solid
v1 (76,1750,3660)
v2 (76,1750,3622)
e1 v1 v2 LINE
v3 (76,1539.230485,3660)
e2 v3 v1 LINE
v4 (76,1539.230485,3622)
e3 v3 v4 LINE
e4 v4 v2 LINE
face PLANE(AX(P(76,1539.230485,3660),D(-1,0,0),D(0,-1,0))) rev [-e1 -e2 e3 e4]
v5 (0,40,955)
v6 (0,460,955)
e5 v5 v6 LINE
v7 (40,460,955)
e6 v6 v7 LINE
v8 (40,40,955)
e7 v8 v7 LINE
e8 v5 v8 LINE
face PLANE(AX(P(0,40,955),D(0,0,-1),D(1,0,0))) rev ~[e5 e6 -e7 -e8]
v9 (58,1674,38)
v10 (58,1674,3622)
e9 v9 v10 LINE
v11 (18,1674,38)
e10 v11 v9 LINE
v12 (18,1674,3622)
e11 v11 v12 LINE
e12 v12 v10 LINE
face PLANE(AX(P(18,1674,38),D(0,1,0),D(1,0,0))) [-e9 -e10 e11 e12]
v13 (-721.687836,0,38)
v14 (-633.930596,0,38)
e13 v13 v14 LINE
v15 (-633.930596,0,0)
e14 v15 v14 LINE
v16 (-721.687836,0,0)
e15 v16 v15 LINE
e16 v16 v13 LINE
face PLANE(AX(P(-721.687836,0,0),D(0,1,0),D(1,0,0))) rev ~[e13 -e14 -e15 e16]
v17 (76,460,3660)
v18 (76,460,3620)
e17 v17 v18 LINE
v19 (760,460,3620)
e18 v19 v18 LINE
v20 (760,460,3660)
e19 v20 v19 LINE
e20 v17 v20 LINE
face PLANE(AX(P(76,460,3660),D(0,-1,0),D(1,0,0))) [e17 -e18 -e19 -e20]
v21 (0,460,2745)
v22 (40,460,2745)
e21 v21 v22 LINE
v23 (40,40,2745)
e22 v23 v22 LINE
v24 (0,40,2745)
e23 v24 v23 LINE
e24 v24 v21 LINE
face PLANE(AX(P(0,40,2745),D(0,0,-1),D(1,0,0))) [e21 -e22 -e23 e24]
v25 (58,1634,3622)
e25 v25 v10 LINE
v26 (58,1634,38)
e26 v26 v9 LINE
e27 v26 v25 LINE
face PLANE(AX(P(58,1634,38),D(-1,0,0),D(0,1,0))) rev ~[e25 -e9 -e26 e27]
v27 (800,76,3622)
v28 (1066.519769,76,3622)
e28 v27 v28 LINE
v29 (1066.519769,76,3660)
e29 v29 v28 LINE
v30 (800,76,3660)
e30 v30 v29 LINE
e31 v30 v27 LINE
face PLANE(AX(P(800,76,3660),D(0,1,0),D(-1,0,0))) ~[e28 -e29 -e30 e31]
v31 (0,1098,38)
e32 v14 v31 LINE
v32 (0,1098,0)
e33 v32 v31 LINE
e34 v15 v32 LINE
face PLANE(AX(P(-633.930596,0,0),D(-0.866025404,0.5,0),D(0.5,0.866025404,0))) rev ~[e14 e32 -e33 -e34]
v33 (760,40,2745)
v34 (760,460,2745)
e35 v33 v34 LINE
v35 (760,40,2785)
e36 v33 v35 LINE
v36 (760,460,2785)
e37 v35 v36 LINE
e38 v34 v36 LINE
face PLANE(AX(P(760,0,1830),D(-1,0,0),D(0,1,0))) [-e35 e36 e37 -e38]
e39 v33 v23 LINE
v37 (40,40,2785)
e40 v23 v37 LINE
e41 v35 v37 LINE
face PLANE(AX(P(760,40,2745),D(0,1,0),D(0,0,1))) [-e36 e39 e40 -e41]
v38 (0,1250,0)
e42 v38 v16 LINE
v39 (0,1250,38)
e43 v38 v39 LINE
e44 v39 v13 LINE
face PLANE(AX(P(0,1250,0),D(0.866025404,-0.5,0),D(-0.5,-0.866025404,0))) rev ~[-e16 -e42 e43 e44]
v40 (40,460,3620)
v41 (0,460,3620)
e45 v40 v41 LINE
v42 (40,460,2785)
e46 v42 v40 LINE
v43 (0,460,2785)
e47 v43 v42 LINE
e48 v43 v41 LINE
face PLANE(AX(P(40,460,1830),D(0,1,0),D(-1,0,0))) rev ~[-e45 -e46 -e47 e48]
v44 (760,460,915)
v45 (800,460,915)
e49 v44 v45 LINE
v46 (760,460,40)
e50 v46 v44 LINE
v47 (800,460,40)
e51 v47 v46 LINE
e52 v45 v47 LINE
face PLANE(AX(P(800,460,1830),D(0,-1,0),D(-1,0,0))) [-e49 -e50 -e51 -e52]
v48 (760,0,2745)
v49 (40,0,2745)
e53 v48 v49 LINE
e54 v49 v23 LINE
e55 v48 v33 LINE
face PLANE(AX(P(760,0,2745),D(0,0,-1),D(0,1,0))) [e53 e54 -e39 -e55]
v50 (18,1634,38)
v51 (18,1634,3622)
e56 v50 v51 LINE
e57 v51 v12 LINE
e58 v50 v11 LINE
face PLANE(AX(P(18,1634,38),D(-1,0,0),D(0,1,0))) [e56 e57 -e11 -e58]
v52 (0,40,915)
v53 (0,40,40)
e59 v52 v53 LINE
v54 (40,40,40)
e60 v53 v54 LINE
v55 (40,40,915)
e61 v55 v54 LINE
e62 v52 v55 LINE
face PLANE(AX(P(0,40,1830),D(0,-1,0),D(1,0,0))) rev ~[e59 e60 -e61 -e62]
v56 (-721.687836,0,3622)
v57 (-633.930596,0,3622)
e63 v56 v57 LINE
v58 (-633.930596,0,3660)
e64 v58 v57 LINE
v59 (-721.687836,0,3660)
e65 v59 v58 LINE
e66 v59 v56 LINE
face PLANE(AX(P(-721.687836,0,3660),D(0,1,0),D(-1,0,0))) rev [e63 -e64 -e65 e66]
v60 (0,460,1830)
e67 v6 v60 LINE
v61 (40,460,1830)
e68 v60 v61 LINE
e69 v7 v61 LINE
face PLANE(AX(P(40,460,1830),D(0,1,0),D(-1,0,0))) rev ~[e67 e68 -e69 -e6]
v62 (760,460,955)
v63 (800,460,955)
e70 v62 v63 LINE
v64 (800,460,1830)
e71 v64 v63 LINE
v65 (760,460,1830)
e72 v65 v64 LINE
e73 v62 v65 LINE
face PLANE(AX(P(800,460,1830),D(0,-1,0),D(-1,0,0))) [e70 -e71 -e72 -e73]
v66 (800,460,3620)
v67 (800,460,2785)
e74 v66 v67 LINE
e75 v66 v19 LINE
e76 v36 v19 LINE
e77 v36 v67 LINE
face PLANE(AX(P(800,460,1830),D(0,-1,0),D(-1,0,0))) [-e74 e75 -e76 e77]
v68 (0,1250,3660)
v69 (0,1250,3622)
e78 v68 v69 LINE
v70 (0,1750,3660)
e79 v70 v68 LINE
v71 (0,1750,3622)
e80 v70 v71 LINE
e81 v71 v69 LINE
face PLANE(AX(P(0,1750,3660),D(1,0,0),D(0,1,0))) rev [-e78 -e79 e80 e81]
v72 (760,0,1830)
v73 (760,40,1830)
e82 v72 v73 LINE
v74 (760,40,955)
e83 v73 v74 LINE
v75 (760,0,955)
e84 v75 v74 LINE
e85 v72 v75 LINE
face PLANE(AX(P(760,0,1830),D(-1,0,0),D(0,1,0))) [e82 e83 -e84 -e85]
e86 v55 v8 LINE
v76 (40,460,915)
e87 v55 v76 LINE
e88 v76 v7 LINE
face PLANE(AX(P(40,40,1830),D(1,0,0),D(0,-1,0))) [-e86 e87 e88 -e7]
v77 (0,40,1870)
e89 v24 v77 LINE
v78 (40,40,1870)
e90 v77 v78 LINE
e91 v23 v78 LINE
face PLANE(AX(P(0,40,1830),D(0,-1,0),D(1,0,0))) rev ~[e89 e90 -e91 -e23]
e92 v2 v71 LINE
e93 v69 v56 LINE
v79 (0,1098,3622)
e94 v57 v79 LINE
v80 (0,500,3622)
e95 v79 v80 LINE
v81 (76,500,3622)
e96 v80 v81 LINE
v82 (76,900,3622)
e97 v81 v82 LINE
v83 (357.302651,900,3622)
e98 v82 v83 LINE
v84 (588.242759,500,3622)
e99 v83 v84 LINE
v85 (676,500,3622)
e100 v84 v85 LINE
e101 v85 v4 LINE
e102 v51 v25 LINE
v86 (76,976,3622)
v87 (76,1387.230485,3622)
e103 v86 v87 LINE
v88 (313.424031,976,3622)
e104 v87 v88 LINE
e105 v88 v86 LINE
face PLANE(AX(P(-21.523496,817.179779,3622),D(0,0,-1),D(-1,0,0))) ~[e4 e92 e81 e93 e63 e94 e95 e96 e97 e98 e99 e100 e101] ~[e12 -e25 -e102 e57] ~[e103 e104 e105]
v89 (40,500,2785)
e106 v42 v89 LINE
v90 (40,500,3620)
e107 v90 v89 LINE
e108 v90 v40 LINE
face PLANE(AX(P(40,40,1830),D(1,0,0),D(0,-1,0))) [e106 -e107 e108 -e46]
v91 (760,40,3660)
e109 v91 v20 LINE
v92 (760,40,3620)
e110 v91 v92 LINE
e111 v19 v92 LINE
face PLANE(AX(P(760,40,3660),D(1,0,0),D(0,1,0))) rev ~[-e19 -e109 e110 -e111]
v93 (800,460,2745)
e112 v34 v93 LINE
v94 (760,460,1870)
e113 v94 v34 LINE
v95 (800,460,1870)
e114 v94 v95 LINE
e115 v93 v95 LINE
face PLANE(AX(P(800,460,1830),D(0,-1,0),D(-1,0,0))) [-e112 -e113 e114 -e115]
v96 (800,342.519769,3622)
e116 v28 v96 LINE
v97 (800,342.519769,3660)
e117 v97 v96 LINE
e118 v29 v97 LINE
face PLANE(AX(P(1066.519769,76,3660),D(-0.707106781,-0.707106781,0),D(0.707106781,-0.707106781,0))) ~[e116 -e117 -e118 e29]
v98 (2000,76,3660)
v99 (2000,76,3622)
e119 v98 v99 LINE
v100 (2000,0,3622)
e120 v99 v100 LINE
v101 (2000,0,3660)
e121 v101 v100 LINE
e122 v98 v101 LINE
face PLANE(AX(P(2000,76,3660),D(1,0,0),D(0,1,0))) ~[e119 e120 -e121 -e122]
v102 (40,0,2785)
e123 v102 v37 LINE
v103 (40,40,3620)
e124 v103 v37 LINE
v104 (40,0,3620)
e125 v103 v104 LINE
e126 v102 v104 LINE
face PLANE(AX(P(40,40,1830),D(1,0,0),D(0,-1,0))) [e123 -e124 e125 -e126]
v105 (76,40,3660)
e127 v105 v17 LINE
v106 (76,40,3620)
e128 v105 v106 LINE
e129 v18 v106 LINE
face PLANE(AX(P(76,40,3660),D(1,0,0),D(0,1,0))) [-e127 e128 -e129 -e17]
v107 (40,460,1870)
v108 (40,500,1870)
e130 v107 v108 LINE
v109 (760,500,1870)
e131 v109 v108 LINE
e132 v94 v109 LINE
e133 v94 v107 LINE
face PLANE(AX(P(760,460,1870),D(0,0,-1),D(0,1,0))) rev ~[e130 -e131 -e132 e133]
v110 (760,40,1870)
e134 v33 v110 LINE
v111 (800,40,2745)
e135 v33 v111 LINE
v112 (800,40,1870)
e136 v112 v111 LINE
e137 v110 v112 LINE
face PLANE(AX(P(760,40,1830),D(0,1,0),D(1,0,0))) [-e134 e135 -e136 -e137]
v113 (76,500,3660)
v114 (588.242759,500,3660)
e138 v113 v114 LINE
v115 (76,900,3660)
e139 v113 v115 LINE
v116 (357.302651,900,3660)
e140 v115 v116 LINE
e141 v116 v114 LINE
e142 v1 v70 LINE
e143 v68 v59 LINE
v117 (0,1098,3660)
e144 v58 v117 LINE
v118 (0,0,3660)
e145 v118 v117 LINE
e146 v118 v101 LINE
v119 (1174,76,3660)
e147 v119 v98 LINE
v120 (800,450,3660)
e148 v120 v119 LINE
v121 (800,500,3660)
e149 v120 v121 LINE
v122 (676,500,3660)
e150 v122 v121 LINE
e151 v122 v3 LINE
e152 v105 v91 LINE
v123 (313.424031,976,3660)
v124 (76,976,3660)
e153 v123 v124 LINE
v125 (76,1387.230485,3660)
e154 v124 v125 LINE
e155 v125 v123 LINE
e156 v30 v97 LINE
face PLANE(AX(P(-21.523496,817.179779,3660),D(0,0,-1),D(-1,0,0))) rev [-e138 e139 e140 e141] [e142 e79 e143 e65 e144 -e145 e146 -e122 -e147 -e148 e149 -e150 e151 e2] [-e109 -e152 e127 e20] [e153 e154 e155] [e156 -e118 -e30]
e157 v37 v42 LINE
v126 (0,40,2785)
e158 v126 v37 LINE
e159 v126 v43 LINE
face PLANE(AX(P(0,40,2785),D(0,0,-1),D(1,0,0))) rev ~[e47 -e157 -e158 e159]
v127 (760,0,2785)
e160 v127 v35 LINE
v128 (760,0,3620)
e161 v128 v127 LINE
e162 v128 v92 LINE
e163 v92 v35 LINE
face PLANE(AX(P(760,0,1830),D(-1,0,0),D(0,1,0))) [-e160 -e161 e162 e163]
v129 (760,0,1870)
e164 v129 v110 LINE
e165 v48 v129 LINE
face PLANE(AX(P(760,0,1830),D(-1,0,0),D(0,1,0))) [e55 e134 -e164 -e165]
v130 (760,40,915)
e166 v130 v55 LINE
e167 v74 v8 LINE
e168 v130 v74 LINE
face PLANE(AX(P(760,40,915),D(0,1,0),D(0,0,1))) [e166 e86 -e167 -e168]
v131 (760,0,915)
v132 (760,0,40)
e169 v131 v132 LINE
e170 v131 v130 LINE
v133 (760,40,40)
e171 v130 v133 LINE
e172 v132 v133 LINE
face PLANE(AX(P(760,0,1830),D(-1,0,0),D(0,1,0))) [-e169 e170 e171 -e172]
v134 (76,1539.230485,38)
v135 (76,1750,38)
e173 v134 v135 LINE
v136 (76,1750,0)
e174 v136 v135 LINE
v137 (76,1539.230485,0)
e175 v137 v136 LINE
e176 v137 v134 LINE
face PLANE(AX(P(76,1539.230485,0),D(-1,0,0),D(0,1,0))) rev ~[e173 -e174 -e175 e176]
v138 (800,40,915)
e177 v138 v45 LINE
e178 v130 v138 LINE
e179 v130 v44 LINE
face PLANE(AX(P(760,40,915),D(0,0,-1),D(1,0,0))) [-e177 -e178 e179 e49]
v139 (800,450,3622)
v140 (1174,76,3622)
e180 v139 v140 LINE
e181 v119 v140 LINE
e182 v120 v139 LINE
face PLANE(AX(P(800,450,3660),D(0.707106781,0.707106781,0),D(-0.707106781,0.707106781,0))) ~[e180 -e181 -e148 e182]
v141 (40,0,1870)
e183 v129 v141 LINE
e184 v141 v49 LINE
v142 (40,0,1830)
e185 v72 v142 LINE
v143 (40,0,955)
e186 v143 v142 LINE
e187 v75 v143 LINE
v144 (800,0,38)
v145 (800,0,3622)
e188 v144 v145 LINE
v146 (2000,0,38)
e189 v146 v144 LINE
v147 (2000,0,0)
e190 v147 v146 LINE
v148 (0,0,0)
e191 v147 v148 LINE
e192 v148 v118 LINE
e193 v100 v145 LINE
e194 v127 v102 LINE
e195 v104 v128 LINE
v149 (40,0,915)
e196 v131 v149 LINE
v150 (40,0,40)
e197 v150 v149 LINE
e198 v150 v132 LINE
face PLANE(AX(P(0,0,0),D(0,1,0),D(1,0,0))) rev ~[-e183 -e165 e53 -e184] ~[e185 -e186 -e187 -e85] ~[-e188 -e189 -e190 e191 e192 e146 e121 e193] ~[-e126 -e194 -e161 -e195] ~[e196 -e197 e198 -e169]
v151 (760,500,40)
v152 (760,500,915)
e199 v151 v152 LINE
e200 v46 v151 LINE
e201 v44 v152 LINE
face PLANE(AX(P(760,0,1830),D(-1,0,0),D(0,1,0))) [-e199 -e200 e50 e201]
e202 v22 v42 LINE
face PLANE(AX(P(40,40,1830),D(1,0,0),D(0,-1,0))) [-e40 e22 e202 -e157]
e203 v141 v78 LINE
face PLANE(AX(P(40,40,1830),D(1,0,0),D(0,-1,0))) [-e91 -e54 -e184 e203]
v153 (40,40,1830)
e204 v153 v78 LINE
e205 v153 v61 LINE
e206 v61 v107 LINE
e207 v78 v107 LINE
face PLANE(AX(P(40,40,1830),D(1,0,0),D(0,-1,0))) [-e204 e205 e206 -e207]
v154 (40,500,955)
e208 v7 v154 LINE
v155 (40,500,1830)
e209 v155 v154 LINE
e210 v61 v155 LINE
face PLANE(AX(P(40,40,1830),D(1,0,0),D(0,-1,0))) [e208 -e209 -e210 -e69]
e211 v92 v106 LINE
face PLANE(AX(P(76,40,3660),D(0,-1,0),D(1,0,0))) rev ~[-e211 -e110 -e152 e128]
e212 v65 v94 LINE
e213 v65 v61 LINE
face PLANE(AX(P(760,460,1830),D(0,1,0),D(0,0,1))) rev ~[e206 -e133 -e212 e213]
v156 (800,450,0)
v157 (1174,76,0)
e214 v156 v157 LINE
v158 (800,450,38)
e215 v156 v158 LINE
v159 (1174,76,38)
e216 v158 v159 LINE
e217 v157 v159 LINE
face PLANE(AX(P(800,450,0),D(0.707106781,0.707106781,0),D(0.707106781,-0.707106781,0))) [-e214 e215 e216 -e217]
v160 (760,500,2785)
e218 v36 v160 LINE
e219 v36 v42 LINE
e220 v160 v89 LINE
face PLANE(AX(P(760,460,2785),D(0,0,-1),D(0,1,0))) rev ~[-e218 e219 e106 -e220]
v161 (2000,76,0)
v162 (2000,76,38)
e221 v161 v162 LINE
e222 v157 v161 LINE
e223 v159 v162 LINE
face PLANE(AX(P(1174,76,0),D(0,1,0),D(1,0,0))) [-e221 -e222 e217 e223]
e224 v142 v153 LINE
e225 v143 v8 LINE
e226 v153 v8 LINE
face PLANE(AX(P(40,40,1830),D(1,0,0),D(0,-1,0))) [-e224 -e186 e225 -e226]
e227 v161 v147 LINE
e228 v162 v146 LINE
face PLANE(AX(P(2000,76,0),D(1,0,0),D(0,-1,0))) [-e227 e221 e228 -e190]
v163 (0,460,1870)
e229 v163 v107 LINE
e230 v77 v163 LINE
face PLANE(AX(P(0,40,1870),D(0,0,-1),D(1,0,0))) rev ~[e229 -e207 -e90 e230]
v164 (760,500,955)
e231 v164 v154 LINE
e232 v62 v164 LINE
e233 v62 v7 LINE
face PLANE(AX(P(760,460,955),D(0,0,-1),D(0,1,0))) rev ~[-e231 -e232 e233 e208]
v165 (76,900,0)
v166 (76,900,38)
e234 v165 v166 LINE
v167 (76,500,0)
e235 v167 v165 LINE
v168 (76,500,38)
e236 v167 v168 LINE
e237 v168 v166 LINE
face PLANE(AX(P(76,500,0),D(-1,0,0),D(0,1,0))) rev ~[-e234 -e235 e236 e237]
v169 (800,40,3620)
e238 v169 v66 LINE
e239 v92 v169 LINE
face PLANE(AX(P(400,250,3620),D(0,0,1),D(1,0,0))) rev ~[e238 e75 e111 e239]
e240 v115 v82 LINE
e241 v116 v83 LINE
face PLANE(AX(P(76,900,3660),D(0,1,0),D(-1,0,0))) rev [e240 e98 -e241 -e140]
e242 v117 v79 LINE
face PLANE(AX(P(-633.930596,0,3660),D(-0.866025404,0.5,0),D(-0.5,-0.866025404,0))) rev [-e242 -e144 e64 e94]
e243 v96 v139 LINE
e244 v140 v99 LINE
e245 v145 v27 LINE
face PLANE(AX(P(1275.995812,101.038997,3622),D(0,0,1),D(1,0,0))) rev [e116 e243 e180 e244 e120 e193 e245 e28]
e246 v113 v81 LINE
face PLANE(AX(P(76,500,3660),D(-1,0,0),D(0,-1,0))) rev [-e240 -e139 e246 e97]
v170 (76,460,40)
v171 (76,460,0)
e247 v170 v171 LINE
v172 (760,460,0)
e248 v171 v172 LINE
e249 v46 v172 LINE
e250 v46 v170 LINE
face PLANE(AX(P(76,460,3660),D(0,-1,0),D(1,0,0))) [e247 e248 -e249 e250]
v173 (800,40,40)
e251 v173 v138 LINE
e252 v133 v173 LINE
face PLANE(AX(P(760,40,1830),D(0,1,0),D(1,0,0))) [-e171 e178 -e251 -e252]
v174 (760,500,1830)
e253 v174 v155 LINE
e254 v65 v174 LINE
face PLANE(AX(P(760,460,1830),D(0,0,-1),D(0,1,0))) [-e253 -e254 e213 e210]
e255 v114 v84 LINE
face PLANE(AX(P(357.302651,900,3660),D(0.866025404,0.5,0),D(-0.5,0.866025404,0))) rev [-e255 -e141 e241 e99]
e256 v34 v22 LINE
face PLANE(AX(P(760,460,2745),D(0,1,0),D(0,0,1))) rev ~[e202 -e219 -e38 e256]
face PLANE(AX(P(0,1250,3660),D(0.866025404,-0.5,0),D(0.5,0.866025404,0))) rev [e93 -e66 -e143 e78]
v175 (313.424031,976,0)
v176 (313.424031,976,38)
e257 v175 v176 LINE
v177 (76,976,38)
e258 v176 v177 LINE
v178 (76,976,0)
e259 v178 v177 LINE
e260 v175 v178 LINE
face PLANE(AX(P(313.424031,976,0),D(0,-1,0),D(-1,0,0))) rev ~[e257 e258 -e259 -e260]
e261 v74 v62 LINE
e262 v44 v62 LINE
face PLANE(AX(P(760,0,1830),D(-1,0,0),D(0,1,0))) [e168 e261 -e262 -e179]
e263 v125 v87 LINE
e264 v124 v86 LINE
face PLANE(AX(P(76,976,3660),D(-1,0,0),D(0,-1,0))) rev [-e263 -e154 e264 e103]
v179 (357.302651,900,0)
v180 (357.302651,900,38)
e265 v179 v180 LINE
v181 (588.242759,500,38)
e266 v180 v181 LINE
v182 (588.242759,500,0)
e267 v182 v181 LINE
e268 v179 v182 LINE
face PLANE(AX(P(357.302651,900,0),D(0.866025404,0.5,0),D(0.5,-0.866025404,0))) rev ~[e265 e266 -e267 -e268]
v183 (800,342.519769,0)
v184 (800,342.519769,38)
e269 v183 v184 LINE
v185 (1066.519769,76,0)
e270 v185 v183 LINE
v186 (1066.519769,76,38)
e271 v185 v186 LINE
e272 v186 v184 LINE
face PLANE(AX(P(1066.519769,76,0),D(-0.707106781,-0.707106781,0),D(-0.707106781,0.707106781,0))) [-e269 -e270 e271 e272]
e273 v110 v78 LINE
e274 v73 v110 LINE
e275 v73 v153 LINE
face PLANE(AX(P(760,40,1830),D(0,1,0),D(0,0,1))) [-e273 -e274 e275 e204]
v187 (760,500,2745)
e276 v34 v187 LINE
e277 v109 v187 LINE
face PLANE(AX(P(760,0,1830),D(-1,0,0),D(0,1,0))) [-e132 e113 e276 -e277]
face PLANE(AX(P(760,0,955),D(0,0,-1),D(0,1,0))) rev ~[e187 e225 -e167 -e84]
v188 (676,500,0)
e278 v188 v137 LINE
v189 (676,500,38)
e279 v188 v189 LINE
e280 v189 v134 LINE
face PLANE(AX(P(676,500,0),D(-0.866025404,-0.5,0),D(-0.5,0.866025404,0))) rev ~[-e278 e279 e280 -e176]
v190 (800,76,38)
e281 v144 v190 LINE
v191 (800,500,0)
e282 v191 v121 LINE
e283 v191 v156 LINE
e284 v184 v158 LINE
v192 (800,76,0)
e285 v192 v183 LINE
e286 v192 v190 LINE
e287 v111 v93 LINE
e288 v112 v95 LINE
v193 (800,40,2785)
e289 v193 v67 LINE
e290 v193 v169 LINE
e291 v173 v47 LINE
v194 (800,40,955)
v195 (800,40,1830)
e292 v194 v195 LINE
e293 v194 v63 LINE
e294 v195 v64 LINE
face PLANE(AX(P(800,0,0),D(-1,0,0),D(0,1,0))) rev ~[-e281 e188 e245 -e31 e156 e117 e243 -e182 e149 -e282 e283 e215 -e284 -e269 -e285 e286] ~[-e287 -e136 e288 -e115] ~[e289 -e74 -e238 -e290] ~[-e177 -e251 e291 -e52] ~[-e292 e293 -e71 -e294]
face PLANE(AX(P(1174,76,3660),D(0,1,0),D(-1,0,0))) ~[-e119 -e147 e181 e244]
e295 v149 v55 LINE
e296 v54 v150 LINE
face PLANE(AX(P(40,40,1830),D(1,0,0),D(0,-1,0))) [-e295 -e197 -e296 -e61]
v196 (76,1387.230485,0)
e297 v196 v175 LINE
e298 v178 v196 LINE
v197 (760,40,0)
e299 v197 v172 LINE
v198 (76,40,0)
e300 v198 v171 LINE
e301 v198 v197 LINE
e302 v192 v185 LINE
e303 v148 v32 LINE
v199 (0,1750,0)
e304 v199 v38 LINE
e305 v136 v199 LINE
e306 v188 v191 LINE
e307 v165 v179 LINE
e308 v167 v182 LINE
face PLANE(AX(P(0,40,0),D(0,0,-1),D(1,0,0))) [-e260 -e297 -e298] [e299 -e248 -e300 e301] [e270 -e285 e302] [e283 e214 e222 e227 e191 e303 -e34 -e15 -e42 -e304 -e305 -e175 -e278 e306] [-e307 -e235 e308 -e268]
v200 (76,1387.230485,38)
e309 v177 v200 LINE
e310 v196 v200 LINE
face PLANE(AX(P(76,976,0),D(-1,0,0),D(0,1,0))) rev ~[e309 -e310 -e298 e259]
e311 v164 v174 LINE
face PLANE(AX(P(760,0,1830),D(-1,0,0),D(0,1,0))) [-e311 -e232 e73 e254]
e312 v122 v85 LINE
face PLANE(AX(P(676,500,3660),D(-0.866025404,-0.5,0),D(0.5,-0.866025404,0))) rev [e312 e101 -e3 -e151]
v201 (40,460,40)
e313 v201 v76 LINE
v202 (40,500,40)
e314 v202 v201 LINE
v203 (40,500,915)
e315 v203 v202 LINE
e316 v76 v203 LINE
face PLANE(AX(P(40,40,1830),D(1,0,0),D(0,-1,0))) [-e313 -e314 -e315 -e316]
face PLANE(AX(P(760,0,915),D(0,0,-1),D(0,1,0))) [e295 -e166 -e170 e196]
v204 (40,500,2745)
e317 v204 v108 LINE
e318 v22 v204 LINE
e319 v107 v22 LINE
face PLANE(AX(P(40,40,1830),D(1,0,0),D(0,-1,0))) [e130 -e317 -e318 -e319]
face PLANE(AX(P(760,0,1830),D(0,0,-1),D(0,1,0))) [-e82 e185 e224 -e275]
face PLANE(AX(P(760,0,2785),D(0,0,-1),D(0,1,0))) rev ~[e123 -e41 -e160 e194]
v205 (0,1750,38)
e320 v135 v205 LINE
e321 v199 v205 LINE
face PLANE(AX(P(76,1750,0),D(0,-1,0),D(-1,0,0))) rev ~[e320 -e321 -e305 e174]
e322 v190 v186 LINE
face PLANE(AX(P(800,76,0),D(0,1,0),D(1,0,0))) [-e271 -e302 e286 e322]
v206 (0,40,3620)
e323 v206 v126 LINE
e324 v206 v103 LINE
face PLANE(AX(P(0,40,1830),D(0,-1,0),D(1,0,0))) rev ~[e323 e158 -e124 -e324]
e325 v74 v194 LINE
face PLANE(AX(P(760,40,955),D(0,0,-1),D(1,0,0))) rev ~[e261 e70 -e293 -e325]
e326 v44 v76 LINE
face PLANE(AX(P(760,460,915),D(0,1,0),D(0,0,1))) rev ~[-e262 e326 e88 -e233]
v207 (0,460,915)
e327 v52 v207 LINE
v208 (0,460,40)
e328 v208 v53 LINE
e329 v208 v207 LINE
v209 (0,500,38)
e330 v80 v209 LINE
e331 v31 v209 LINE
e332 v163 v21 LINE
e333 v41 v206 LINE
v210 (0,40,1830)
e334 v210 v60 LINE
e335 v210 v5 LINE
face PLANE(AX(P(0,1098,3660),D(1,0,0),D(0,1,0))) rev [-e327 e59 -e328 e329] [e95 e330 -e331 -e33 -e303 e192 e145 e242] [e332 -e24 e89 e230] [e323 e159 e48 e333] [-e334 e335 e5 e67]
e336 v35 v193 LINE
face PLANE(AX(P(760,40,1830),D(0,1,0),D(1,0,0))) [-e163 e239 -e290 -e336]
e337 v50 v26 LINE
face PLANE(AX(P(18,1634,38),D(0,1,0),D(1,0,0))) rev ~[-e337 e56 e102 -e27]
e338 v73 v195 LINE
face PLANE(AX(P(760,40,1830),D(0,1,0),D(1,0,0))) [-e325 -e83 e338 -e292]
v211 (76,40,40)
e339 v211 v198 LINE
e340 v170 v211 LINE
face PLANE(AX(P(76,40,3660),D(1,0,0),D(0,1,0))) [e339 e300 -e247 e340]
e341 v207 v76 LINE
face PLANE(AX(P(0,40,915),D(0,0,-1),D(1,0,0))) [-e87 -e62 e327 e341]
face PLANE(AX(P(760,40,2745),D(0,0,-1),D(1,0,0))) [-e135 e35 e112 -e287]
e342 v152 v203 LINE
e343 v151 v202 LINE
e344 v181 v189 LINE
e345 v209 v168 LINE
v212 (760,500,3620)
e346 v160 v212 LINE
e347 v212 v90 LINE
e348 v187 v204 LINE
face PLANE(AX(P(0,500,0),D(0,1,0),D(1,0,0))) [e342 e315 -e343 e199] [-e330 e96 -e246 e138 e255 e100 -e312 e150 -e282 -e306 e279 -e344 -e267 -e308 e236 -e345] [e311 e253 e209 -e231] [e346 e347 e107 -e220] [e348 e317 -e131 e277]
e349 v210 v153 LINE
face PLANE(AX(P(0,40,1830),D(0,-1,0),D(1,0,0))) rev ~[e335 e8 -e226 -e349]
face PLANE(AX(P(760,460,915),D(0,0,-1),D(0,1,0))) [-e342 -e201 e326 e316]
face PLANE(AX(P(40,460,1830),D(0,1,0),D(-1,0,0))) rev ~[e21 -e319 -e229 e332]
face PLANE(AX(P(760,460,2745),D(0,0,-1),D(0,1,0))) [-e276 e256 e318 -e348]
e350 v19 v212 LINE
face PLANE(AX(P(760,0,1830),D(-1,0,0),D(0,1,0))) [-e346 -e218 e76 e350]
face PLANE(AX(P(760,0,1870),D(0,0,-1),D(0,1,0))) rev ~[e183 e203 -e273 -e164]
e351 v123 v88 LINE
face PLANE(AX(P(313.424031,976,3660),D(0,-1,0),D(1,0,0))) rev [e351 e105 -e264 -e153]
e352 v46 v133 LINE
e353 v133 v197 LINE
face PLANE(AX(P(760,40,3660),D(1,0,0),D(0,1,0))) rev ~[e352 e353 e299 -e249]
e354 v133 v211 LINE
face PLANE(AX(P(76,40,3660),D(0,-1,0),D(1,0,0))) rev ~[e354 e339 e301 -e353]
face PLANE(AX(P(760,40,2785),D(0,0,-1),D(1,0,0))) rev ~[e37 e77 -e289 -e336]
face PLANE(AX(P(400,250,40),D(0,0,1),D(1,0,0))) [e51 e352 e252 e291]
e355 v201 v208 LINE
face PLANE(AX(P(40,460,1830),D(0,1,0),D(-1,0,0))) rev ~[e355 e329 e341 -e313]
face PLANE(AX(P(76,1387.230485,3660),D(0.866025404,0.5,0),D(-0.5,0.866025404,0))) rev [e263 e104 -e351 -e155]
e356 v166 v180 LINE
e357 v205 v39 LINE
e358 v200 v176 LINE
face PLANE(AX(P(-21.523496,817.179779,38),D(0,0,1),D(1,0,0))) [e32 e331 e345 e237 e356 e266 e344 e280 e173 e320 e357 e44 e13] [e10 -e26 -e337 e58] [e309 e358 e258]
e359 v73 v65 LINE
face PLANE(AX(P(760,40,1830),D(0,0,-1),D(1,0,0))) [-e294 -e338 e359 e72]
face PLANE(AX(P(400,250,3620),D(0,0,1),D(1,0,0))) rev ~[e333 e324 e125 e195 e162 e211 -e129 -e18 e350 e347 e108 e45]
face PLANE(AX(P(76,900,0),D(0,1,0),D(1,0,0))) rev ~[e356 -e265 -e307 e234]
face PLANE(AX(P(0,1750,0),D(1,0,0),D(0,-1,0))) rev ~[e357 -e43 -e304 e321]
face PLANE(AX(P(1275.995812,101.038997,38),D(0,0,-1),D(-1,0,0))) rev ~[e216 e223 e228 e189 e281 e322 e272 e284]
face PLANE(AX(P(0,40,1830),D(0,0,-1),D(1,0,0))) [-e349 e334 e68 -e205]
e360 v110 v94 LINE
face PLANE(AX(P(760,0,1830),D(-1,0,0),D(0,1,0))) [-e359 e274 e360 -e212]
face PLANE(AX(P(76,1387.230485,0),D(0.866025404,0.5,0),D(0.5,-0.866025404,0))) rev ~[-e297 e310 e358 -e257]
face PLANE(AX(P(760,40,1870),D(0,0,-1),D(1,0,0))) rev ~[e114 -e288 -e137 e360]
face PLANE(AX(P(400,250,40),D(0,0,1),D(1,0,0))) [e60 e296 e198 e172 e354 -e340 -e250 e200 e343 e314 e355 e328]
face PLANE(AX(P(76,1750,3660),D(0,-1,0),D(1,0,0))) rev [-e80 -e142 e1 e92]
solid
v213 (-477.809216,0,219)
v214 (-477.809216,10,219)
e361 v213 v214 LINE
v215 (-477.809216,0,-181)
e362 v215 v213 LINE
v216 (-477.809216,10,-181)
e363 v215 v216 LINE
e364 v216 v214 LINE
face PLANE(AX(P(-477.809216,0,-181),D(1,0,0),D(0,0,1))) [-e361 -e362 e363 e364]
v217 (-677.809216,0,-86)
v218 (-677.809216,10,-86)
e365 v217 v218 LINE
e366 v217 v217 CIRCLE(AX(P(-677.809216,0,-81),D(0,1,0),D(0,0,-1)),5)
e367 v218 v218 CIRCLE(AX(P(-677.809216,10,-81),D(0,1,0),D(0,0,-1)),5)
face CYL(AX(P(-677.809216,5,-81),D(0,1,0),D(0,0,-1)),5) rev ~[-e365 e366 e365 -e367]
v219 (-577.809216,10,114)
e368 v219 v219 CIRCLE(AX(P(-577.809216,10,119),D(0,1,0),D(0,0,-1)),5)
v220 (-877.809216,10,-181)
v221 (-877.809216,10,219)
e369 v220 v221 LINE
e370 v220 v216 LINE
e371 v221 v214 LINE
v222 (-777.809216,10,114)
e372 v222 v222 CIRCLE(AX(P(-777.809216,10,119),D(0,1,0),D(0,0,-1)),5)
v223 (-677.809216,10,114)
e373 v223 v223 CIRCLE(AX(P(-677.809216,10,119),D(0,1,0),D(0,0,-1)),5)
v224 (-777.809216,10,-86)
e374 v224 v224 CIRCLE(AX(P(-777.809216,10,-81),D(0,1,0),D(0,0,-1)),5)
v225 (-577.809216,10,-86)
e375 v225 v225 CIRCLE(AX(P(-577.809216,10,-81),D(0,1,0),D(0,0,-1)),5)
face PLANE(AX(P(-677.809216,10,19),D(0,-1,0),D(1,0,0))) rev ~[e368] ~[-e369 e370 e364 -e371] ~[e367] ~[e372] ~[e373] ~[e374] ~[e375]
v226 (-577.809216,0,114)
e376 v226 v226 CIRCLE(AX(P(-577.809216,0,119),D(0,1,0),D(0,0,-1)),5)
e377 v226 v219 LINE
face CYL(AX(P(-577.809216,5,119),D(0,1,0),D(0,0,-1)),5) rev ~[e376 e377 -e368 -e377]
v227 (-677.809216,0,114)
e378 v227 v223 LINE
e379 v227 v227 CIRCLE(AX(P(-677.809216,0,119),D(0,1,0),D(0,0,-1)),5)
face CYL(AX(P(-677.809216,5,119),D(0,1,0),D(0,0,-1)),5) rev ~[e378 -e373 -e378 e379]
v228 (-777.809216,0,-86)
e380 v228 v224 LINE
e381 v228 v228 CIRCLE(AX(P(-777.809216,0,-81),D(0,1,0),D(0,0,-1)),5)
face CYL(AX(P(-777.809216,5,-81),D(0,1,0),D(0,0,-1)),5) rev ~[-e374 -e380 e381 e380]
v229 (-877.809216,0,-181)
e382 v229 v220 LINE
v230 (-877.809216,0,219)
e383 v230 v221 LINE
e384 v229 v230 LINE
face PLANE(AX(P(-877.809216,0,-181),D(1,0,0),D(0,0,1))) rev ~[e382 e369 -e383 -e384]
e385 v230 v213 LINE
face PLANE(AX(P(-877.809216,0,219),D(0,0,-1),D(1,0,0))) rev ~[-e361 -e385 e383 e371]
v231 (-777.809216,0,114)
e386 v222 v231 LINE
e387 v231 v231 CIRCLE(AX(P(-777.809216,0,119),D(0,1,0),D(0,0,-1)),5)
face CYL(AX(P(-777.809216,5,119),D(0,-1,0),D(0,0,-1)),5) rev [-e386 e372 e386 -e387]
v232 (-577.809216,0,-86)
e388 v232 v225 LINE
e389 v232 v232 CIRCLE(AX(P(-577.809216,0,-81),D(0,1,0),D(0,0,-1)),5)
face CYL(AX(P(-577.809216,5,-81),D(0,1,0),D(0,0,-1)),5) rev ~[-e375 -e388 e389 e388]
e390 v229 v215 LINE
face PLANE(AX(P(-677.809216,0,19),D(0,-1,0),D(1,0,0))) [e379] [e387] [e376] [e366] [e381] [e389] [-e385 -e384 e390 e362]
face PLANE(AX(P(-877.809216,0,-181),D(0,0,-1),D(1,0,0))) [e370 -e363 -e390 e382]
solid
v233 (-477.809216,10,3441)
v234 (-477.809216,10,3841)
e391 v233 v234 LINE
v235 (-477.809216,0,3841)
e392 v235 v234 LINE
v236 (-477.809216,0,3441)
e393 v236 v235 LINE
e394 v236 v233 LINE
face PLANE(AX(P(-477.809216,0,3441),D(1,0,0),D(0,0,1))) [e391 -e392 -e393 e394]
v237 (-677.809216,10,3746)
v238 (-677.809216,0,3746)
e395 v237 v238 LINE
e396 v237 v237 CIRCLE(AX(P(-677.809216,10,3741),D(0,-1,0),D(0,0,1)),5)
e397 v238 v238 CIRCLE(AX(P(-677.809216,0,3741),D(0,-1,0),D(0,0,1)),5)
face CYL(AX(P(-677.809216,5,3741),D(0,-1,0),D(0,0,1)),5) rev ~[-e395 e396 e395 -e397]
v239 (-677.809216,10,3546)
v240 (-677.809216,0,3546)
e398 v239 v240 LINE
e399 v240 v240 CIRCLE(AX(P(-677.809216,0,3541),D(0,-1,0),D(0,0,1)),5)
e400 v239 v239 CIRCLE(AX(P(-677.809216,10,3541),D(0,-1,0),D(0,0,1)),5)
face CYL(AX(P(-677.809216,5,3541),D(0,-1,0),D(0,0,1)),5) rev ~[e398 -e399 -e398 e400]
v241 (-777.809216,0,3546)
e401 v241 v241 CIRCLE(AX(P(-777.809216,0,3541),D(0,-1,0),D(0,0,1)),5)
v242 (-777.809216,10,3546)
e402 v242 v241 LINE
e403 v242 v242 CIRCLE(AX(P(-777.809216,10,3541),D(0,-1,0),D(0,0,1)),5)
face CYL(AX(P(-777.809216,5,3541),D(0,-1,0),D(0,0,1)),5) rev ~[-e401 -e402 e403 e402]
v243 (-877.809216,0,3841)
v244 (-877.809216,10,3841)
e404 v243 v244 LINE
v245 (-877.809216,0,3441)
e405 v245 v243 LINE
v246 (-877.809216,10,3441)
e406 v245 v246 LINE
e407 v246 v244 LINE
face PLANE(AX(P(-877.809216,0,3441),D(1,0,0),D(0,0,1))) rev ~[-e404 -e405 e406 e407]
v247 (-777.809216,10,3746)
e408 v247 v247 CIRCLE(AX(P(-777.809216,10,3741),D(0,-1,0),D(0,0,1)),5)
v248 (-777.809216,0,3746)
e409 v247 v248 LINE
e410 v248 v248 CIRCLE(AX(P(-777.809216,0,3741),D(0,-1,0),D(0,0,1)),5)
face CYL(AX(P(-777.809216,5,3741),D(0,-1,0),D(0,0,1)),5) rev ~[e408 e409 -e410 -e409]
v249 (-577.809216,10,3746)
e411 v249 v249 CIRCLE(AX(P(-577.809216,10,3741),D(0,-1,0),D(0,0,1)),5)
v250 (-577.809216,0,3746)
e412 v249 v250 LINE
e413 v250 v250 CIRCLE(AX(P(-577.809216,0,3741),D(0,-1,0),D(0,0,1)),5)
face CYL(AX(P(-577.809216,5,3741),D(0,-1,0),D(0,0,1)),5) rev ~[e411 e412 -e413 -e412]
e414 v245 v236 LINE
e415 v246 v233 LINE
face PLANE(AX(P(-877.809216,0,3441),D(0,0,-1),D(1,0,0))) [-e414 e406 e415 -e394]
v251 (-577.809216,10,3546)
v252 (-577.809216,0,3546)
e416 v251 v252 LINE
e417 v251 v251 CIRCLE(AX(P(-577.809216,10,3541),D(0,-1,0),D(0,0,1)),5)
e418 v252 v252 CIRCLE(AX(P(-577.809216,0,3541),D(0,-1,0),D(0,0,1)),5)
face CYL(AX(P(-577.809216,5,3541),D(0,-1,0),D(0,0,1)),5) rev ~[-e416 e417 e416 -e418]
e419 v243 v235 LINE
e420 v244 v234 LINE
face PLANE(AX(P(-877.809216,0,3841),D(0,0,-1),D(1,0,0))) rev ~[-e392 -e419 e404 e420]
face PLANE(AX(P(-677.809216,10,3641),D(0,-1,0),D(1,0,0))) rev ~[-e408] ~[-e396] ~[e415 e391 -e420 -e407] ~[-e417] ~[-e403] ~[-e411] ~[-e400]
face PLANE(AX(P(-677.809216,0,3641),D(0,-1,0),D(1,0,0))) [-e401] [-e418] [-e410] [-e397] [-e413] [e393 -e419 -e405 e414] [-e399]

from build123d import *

# Parameters (mm, degrees)
SKETCH1_W               = 800
SKETCH1_H               = 500
BOSS_EXTRUDE5_DEPTH     = 3660
BOSS_EXTRUDE5_2_DEPTH   = 3660
BOSS_EXTRUDE2_DEPTH     = 38
SKETCH4_W               = 684
SKETCH4_H               = 420
CUT_EXTRUDE1_DEPTH      = 3661
CUT_EXTRUDE2_DEPTH      = 1790
CUT_EXTRUDE2_DEPTH_BACK = 1790
BOSS_EXTRUDE3_DEPTH     = 76
SKETCH9_W               = 400
SKETCH9_H               = 400
BOSS_EXTRUDE6_DEPTH     = 10
BOSS_EXTRUDE6_2_DEPTH   = 10
SKETCH11_W              = 40
SKETCH11_H              = 40
BOSS_EXTRUDE7_DEPTH     = 3584
SKETCH12_W              = 40
SKETCH12_H              = 40
BOSS_EXTRUDE8_DEPTH     = 420
LPATTERN1_COUNT         = 4
LPATTERN1_PITCH         = 915
LPATTERN1_COUNT_DIR2    = 2
LPATTERN1_PITCH_DIR2    = 760
SKETCH13_W              = 40
SKETCH13_H              = 40
BOSS_EXTRUDE9_DEPTH     = 760
LPATTERN2_COUNT         = 4
LPATTERN2_PITCH         = 915
LPATTERN2_COUNT_DIR2    = 2
LPATTERN2_PITCH_DIR2    = 460
SKETCH14_W              = 4140.847934345
SKETCH14_H              = 3535.849458551
CUT_EXTRUDE3_DEPTH      = 182
CUT_EXTRUDE3_DEPTH_BACK = 3842
SKETCH17_W              = 5
SKETCH17_H              = 10
LPATTERN3_COUNT         = 2
LPATTERN3_PITCH         = 200
LPATTERN3_COUNT_DIR2    = 3
LPATTERN3_PITCH_DIR2    = 100
MIRROR3_COPY_1_SKETCH_W = 5
MIRROR3_COPY_1_SKETCH_H = 10
MIRROR3_COPY_2_SKETCH_W = 5
MIRROR3_COPY_2_SKETCH_H = 10
MIRROR3_COPY_3_SKETCH_W = 5
MIRROR3_COPY_3_SKETCH_H = 10
MIRROR3_COPY_4_SKETCH_W = 5
MIRROR3_COPY_4_SKETCH_H = 10
MIRROR3_COPY_5_SKETCH_W = 5
MIRROR3_COPY_5_SKETCH_H = 10


with BuildPart() as part:
    # Sketch1 → Boss-Extrude5 (new body)
    with BuildSketch(Plane.XY):
        with Locations((400, 250)):
            Rectangle(SKETCH1_W, SKETCH1_H)
    extrude(amount=BOSS_EXTRUDE5_DEPTH)

    # Sketch3 → Boss-Extrude2 (add)
    with BuildSketch(Plane.XY):
        Polygon((0, 500), (76, 500), (76, 900), (357.302651407, 900), (588.242759083, 500), (676, 500), (76, 1539.230484541), (76, 1750), (0, 1750), (0, 1250), (-721.687836487, 0), (-633.93059557, 0), (0, 1098), align=None)
        Polygon((76, 1387.230484541), (313.424030949, 976), (76, 976), align=None, mode=Mode.SUBTRACT)
        Polygon((800, 450), (1174, 76), (2000, 76), (2000, 0), (800, 0), (800, 76), (1066.51976926, 76), (800, 342.51976926), align=None)
    boss_extrude2 = extrude(amount=BOSS_EXTRUDE2_DEPTH)

    # Mirror1: Boss-Extrude2 across plane
    add(boss_extrude2.mirror(Plane.XY.offset(1830)))

    # Sketch4 → Cut-Extrude1 (cut, through all)
    with BuildSketch(Plane.XY.offset(3660)):
        with Locations((418, 250)):
            Rectangle(SKETCH4_W, SKETCH4_H)
    extrude(amount=-CUT_EXTRUDE1_DEPTH, mode=Mode.SUBTRACT)

    # Sketch5 → Cut-Extrude2 (cut, two sides)
    with BuildSketch(Plane.XY.offset(1830)) as cut_extrude2_sk:
        Polygon((40, 500), (40, 460), (0, 460), (0, 40), (40, 40), (40, 0), (760, 0), (760, 40), (800, 40), (800, 460), (760, 460), (760, 500), align=None)
    extrude(amount=CUT_EXTRUDE2_DEPTH, mode=Mode.SUBTRACT)
    extrude(cut_extrude2_sk.sketch, amount=-CUT_EXTRUDE2_DEPTH_BACK, mode=Mode.SUBTRACT)

    # Sketch11 → Boss-Extrude7 (add)
    with BuildSketch(Plane.XY.offset(38)):
        with Locations((38, 1654)):
            Rectangle(SKETCH11_W, SKETCH11_H)
    extrude(amount=BOSS_EXTRUDE7_DEPTH)

    # Sketch12 → Boss-Extrude8 (add)
    with BuildSketch(Plane(origin=(0, 40, 0), x_dir=(1, 0, 0), z_dir=(0, 1, 0))):
        with Locations((20, -20)):
            Rectangle(SKETCH12_W, SKETCH12_H)
    boss_extrude8 = extrude(amount=BOSS_EXTRUDE8_DEPTH)

    # LPattern1: Boss-Extrude8 4 × 2
    with Locations(*[(j * LPATTERN1_PITCH_DIR2, 0, i * LPATTERN1_PITCH) for i in range(LPATTERN1_COUNT) for j in range(LPATTERN1_COUNT_DIR2) if (i, j) != (0, 0)]):
        add(boss_extrude8)

    # Sketch13 → Boss-Extrude9 (add)
    with BuildSketch(Plane.ZY.offset(-760)):
        with Locations((20, 480)):
            Rectangle(SKETCH13_W, SKETCH13_H)
    boss_extrude9 = extrude(amount=BOSS_EXTRUDE9_DEPTH)

    # LPattern2: Boss-Extrude9 4 × 2
    with Locations(*[(0, -j * LPATTERN2_PITCH_DIR2, i * LPATTERN2_PITCH) for i in range(LPATTERN2_COUNT) for j in range(LPATTERN2_COUNT_DIR2) if (i, j) != (0, 0)]):
        add(boss_extrude9)


with BuildPart() as body_2:
    # Sketch1 → Boss-Extrude5 2 (new body)
    with BuildSketch(Plane.XY):
        Polygon((2614.411542732, 3678.652977851), (2630, 3669.652977851), (800, 500), (784.411542732, 509), align=None)
    extrude(amount=BOSS_EXTRUDE5_2_DEPTH)


with BuildPart() as body_3:
    # Sketch7 → Boss-Extrude3 (new body)
    with BuildSketch(Plane(origin=(367.905191786, -212.410161514, 0), x_dir=(0, 0, 1), z_dir=(-0.866025404, 0.5, 0))):
        Polygon((1830, 833.012701892), (0, 833.012701892), (0, 4493.012701892), (1830, 4493.012701892), (1830, 4455.012701892), (38, 4455.012701892), (38, 871.012701892), (1830, 871.012701892), align=None)
    boss_extrude3 = extrude(amount=BOSS_EXTRUDE3_DEPTH)

    # Mirror2: Boss-Extrude3 across plane
    add(boss_extrude3.mirror(Plane.XY.offset(1830)))


with BuildPart() as body_4:
    # Sketch9 → Boss-Extrude6 (new body)
    with BuildSketch(Plane.XZ):
        with Locations((-677.809216029, 3641)):
            Rectangle(SKETCH9_W, SKETCH9_H)
    extrude(amount=-BOSS_EXTRUDE6_DEPTH)

    # Sketch17 → Ø10.0mm Dowel Hole1 (revolve, cut)
    with BuildSketch(Plane(origin=(-777.809216029, 10, 3541), x_dir=(0, 0, 1), z_dir=(1, 0, 0))):
        with Locations((2.5, 5)):
            Rectangle(SKETCH17_W, SKETCH17_H)
    f_10_0mm_dowel_hole1 = revolve(axis=Axis((-777.809216029, 16.35, 3541), (0, -1, 0)), mode=Mode.SUBTRACT)

    # LPattern3: 10.0mm Dowel Hole1 2 × 3
    with Locations(*[(j * LPATTERN3_PITCH_DIR2, 0, i * LPATTERN3_PITCH) for i in range(LPATTERN3_COUNT) for j in range(LPATTERN3_COUNT_DIR2) if (i, j) != (0, 0)]):
        add(f_10_0mm_dowel_hole1, mode=Mode.SUBTRACT)


with BuildPart() as body_5:
    # Sketch9 → Boss-Extrude6 2 (new body)
    with BuildSketch(Plane.XZ):
        with Locations((-677.809216029, 19)):
            Rectangle(SKETCH9_W, SKETCH9_H)
    extrude(amount=-BOSS_EXTRUDE6_2_DEPTH)

    # Mirror3: Ø10.0mm Dowel Hole1 across plane
    add(f_10_0mm_dowel_hole1.mirror(Plane.XY.offset(1830)), mode=Mode.SUBTRACT)

    # Mirror3 copy 1 sketch → Mirror3 copy 1 (revolve, cut)
    with BuildSketch(Plane(origin=(-677.809216029, 10, 119), x_dir=(0, 0, -1), z_dir=(1, 0, 0))):
        with Locations((2.5, -5)):
            Rectangle(MIRROR3_COPY_1_SKETCH_W, MIRROR3_COPY_1_SKETCH_H)
    revolve(axis=Axis((-677.809216029, 16.35, 119), (0, 1, 0)), mode=Mode.SUBTRACT)

    # Mirror3 copy 2 sketch → Mirror3 copy 2 (revolve, cut)
    with BuildSketch(Plane(origin=(-577.809216029, 10, 119), x_dir=(0, 0, -1), z_dir=(1, 0, 0))):
        with Locations((2.5, -5)):
            Rectangle(MIRROR3_COPY_2_SKETCH_W, MIRROR3_COPY_2_SKETCH_H)
    revolve(axis=Axis((-577.809216029, 16.35, 119), (0, 1, 0)), mode=Mode.SUBTRACT)

    # Mirror3 copy 3 sketch → Mirror3 copy 3 (revolve, cut)
    with BuildSketch(Plane(origin=(-777.809216029, 10, -81), x_dir=(0, 0, -1), z_dir=(1, 0, 0))):
        with Locations((2.5, -5)):
            Rectangle(MIRROR3_COPY_3_SKETCH_W, MIRROR3_COPY_3_SKETCH_H)
    revolve(axis=Axis((-777.809216029, 16.35, -81), (0, 1, 0)), mode=Mode.SUBTRACT)

    # Mirror3 copy 4 sketch → Mirror3 copy 4 (revolve, cut)
    with BuildSketch(Plane(origin=(-677.809216029, 10, -81), x_dir=(0, 0, -1), z_dir=(1, 0, 0))):
        with Locations((2.5, -5)):
            Rectangle(MIRROR3_COPY_4_SKETCH_W, MIRROR3_COPY_4_SKETCH_H)
    revolve(axis=Axis((-677.809216029, 16.35, -81), (0, 1, 0)), mode=Mode.SUBTRACT)

    # Mirror3 copy 5 sketch → Mirror3 copy 5 (revolve, cut)
    with BuildSketch(Plane(origin=(-577.809216029, 10, -81), x_dir=(0, 0, -1), z_dir=(1, 0, 0))):
        with Locations((2.5, -5)):
            Rectangle(MIRROR3_COPY_5_SKETCH_W, MIRROR3_COPY_5_SKETCH_H)
    revolve(axis=Axis((-577.809216029, 16.35, -81), (0, 1, 0)), mode=Mode.SUBTRACT)


with BuildPart() as cut_extrude3_tool:
    # Sketch14 → Cut-Extrude3 (new body, two sides)
    with BuildSketch(Plane.XY.offset(3660)) as cut_extrude3_sk:
        with Locations((2687.602754195, 2267.924729276)):
            Rectangle(SKETCH14_W, SKETCH14_H)
    extrude(amount=CUT_EXTRUDE3_DEPTH)
    extrude(cut_extrude3_sk.sketch, amount=-CUT_EXTRUDE3_DEPTH_BACK)


with BuildPart() as body_3_1:
    add(body_3.part)

    # Cut-Extrude3: cut by cut_extrude3_tool
    add(cut_extrude3_tool.part, mode=Mode.SUBTRACT)


with BuildPart() as body_2_1:
    add(body_2.part)

    # Cut-Extrude3: cut by cut_extrude3_tool
    add(cut_extrude3_tool.part, mode=Mode.SUBTRACT)


solid = Compound([part.part, body_4.part, body_5.part])
